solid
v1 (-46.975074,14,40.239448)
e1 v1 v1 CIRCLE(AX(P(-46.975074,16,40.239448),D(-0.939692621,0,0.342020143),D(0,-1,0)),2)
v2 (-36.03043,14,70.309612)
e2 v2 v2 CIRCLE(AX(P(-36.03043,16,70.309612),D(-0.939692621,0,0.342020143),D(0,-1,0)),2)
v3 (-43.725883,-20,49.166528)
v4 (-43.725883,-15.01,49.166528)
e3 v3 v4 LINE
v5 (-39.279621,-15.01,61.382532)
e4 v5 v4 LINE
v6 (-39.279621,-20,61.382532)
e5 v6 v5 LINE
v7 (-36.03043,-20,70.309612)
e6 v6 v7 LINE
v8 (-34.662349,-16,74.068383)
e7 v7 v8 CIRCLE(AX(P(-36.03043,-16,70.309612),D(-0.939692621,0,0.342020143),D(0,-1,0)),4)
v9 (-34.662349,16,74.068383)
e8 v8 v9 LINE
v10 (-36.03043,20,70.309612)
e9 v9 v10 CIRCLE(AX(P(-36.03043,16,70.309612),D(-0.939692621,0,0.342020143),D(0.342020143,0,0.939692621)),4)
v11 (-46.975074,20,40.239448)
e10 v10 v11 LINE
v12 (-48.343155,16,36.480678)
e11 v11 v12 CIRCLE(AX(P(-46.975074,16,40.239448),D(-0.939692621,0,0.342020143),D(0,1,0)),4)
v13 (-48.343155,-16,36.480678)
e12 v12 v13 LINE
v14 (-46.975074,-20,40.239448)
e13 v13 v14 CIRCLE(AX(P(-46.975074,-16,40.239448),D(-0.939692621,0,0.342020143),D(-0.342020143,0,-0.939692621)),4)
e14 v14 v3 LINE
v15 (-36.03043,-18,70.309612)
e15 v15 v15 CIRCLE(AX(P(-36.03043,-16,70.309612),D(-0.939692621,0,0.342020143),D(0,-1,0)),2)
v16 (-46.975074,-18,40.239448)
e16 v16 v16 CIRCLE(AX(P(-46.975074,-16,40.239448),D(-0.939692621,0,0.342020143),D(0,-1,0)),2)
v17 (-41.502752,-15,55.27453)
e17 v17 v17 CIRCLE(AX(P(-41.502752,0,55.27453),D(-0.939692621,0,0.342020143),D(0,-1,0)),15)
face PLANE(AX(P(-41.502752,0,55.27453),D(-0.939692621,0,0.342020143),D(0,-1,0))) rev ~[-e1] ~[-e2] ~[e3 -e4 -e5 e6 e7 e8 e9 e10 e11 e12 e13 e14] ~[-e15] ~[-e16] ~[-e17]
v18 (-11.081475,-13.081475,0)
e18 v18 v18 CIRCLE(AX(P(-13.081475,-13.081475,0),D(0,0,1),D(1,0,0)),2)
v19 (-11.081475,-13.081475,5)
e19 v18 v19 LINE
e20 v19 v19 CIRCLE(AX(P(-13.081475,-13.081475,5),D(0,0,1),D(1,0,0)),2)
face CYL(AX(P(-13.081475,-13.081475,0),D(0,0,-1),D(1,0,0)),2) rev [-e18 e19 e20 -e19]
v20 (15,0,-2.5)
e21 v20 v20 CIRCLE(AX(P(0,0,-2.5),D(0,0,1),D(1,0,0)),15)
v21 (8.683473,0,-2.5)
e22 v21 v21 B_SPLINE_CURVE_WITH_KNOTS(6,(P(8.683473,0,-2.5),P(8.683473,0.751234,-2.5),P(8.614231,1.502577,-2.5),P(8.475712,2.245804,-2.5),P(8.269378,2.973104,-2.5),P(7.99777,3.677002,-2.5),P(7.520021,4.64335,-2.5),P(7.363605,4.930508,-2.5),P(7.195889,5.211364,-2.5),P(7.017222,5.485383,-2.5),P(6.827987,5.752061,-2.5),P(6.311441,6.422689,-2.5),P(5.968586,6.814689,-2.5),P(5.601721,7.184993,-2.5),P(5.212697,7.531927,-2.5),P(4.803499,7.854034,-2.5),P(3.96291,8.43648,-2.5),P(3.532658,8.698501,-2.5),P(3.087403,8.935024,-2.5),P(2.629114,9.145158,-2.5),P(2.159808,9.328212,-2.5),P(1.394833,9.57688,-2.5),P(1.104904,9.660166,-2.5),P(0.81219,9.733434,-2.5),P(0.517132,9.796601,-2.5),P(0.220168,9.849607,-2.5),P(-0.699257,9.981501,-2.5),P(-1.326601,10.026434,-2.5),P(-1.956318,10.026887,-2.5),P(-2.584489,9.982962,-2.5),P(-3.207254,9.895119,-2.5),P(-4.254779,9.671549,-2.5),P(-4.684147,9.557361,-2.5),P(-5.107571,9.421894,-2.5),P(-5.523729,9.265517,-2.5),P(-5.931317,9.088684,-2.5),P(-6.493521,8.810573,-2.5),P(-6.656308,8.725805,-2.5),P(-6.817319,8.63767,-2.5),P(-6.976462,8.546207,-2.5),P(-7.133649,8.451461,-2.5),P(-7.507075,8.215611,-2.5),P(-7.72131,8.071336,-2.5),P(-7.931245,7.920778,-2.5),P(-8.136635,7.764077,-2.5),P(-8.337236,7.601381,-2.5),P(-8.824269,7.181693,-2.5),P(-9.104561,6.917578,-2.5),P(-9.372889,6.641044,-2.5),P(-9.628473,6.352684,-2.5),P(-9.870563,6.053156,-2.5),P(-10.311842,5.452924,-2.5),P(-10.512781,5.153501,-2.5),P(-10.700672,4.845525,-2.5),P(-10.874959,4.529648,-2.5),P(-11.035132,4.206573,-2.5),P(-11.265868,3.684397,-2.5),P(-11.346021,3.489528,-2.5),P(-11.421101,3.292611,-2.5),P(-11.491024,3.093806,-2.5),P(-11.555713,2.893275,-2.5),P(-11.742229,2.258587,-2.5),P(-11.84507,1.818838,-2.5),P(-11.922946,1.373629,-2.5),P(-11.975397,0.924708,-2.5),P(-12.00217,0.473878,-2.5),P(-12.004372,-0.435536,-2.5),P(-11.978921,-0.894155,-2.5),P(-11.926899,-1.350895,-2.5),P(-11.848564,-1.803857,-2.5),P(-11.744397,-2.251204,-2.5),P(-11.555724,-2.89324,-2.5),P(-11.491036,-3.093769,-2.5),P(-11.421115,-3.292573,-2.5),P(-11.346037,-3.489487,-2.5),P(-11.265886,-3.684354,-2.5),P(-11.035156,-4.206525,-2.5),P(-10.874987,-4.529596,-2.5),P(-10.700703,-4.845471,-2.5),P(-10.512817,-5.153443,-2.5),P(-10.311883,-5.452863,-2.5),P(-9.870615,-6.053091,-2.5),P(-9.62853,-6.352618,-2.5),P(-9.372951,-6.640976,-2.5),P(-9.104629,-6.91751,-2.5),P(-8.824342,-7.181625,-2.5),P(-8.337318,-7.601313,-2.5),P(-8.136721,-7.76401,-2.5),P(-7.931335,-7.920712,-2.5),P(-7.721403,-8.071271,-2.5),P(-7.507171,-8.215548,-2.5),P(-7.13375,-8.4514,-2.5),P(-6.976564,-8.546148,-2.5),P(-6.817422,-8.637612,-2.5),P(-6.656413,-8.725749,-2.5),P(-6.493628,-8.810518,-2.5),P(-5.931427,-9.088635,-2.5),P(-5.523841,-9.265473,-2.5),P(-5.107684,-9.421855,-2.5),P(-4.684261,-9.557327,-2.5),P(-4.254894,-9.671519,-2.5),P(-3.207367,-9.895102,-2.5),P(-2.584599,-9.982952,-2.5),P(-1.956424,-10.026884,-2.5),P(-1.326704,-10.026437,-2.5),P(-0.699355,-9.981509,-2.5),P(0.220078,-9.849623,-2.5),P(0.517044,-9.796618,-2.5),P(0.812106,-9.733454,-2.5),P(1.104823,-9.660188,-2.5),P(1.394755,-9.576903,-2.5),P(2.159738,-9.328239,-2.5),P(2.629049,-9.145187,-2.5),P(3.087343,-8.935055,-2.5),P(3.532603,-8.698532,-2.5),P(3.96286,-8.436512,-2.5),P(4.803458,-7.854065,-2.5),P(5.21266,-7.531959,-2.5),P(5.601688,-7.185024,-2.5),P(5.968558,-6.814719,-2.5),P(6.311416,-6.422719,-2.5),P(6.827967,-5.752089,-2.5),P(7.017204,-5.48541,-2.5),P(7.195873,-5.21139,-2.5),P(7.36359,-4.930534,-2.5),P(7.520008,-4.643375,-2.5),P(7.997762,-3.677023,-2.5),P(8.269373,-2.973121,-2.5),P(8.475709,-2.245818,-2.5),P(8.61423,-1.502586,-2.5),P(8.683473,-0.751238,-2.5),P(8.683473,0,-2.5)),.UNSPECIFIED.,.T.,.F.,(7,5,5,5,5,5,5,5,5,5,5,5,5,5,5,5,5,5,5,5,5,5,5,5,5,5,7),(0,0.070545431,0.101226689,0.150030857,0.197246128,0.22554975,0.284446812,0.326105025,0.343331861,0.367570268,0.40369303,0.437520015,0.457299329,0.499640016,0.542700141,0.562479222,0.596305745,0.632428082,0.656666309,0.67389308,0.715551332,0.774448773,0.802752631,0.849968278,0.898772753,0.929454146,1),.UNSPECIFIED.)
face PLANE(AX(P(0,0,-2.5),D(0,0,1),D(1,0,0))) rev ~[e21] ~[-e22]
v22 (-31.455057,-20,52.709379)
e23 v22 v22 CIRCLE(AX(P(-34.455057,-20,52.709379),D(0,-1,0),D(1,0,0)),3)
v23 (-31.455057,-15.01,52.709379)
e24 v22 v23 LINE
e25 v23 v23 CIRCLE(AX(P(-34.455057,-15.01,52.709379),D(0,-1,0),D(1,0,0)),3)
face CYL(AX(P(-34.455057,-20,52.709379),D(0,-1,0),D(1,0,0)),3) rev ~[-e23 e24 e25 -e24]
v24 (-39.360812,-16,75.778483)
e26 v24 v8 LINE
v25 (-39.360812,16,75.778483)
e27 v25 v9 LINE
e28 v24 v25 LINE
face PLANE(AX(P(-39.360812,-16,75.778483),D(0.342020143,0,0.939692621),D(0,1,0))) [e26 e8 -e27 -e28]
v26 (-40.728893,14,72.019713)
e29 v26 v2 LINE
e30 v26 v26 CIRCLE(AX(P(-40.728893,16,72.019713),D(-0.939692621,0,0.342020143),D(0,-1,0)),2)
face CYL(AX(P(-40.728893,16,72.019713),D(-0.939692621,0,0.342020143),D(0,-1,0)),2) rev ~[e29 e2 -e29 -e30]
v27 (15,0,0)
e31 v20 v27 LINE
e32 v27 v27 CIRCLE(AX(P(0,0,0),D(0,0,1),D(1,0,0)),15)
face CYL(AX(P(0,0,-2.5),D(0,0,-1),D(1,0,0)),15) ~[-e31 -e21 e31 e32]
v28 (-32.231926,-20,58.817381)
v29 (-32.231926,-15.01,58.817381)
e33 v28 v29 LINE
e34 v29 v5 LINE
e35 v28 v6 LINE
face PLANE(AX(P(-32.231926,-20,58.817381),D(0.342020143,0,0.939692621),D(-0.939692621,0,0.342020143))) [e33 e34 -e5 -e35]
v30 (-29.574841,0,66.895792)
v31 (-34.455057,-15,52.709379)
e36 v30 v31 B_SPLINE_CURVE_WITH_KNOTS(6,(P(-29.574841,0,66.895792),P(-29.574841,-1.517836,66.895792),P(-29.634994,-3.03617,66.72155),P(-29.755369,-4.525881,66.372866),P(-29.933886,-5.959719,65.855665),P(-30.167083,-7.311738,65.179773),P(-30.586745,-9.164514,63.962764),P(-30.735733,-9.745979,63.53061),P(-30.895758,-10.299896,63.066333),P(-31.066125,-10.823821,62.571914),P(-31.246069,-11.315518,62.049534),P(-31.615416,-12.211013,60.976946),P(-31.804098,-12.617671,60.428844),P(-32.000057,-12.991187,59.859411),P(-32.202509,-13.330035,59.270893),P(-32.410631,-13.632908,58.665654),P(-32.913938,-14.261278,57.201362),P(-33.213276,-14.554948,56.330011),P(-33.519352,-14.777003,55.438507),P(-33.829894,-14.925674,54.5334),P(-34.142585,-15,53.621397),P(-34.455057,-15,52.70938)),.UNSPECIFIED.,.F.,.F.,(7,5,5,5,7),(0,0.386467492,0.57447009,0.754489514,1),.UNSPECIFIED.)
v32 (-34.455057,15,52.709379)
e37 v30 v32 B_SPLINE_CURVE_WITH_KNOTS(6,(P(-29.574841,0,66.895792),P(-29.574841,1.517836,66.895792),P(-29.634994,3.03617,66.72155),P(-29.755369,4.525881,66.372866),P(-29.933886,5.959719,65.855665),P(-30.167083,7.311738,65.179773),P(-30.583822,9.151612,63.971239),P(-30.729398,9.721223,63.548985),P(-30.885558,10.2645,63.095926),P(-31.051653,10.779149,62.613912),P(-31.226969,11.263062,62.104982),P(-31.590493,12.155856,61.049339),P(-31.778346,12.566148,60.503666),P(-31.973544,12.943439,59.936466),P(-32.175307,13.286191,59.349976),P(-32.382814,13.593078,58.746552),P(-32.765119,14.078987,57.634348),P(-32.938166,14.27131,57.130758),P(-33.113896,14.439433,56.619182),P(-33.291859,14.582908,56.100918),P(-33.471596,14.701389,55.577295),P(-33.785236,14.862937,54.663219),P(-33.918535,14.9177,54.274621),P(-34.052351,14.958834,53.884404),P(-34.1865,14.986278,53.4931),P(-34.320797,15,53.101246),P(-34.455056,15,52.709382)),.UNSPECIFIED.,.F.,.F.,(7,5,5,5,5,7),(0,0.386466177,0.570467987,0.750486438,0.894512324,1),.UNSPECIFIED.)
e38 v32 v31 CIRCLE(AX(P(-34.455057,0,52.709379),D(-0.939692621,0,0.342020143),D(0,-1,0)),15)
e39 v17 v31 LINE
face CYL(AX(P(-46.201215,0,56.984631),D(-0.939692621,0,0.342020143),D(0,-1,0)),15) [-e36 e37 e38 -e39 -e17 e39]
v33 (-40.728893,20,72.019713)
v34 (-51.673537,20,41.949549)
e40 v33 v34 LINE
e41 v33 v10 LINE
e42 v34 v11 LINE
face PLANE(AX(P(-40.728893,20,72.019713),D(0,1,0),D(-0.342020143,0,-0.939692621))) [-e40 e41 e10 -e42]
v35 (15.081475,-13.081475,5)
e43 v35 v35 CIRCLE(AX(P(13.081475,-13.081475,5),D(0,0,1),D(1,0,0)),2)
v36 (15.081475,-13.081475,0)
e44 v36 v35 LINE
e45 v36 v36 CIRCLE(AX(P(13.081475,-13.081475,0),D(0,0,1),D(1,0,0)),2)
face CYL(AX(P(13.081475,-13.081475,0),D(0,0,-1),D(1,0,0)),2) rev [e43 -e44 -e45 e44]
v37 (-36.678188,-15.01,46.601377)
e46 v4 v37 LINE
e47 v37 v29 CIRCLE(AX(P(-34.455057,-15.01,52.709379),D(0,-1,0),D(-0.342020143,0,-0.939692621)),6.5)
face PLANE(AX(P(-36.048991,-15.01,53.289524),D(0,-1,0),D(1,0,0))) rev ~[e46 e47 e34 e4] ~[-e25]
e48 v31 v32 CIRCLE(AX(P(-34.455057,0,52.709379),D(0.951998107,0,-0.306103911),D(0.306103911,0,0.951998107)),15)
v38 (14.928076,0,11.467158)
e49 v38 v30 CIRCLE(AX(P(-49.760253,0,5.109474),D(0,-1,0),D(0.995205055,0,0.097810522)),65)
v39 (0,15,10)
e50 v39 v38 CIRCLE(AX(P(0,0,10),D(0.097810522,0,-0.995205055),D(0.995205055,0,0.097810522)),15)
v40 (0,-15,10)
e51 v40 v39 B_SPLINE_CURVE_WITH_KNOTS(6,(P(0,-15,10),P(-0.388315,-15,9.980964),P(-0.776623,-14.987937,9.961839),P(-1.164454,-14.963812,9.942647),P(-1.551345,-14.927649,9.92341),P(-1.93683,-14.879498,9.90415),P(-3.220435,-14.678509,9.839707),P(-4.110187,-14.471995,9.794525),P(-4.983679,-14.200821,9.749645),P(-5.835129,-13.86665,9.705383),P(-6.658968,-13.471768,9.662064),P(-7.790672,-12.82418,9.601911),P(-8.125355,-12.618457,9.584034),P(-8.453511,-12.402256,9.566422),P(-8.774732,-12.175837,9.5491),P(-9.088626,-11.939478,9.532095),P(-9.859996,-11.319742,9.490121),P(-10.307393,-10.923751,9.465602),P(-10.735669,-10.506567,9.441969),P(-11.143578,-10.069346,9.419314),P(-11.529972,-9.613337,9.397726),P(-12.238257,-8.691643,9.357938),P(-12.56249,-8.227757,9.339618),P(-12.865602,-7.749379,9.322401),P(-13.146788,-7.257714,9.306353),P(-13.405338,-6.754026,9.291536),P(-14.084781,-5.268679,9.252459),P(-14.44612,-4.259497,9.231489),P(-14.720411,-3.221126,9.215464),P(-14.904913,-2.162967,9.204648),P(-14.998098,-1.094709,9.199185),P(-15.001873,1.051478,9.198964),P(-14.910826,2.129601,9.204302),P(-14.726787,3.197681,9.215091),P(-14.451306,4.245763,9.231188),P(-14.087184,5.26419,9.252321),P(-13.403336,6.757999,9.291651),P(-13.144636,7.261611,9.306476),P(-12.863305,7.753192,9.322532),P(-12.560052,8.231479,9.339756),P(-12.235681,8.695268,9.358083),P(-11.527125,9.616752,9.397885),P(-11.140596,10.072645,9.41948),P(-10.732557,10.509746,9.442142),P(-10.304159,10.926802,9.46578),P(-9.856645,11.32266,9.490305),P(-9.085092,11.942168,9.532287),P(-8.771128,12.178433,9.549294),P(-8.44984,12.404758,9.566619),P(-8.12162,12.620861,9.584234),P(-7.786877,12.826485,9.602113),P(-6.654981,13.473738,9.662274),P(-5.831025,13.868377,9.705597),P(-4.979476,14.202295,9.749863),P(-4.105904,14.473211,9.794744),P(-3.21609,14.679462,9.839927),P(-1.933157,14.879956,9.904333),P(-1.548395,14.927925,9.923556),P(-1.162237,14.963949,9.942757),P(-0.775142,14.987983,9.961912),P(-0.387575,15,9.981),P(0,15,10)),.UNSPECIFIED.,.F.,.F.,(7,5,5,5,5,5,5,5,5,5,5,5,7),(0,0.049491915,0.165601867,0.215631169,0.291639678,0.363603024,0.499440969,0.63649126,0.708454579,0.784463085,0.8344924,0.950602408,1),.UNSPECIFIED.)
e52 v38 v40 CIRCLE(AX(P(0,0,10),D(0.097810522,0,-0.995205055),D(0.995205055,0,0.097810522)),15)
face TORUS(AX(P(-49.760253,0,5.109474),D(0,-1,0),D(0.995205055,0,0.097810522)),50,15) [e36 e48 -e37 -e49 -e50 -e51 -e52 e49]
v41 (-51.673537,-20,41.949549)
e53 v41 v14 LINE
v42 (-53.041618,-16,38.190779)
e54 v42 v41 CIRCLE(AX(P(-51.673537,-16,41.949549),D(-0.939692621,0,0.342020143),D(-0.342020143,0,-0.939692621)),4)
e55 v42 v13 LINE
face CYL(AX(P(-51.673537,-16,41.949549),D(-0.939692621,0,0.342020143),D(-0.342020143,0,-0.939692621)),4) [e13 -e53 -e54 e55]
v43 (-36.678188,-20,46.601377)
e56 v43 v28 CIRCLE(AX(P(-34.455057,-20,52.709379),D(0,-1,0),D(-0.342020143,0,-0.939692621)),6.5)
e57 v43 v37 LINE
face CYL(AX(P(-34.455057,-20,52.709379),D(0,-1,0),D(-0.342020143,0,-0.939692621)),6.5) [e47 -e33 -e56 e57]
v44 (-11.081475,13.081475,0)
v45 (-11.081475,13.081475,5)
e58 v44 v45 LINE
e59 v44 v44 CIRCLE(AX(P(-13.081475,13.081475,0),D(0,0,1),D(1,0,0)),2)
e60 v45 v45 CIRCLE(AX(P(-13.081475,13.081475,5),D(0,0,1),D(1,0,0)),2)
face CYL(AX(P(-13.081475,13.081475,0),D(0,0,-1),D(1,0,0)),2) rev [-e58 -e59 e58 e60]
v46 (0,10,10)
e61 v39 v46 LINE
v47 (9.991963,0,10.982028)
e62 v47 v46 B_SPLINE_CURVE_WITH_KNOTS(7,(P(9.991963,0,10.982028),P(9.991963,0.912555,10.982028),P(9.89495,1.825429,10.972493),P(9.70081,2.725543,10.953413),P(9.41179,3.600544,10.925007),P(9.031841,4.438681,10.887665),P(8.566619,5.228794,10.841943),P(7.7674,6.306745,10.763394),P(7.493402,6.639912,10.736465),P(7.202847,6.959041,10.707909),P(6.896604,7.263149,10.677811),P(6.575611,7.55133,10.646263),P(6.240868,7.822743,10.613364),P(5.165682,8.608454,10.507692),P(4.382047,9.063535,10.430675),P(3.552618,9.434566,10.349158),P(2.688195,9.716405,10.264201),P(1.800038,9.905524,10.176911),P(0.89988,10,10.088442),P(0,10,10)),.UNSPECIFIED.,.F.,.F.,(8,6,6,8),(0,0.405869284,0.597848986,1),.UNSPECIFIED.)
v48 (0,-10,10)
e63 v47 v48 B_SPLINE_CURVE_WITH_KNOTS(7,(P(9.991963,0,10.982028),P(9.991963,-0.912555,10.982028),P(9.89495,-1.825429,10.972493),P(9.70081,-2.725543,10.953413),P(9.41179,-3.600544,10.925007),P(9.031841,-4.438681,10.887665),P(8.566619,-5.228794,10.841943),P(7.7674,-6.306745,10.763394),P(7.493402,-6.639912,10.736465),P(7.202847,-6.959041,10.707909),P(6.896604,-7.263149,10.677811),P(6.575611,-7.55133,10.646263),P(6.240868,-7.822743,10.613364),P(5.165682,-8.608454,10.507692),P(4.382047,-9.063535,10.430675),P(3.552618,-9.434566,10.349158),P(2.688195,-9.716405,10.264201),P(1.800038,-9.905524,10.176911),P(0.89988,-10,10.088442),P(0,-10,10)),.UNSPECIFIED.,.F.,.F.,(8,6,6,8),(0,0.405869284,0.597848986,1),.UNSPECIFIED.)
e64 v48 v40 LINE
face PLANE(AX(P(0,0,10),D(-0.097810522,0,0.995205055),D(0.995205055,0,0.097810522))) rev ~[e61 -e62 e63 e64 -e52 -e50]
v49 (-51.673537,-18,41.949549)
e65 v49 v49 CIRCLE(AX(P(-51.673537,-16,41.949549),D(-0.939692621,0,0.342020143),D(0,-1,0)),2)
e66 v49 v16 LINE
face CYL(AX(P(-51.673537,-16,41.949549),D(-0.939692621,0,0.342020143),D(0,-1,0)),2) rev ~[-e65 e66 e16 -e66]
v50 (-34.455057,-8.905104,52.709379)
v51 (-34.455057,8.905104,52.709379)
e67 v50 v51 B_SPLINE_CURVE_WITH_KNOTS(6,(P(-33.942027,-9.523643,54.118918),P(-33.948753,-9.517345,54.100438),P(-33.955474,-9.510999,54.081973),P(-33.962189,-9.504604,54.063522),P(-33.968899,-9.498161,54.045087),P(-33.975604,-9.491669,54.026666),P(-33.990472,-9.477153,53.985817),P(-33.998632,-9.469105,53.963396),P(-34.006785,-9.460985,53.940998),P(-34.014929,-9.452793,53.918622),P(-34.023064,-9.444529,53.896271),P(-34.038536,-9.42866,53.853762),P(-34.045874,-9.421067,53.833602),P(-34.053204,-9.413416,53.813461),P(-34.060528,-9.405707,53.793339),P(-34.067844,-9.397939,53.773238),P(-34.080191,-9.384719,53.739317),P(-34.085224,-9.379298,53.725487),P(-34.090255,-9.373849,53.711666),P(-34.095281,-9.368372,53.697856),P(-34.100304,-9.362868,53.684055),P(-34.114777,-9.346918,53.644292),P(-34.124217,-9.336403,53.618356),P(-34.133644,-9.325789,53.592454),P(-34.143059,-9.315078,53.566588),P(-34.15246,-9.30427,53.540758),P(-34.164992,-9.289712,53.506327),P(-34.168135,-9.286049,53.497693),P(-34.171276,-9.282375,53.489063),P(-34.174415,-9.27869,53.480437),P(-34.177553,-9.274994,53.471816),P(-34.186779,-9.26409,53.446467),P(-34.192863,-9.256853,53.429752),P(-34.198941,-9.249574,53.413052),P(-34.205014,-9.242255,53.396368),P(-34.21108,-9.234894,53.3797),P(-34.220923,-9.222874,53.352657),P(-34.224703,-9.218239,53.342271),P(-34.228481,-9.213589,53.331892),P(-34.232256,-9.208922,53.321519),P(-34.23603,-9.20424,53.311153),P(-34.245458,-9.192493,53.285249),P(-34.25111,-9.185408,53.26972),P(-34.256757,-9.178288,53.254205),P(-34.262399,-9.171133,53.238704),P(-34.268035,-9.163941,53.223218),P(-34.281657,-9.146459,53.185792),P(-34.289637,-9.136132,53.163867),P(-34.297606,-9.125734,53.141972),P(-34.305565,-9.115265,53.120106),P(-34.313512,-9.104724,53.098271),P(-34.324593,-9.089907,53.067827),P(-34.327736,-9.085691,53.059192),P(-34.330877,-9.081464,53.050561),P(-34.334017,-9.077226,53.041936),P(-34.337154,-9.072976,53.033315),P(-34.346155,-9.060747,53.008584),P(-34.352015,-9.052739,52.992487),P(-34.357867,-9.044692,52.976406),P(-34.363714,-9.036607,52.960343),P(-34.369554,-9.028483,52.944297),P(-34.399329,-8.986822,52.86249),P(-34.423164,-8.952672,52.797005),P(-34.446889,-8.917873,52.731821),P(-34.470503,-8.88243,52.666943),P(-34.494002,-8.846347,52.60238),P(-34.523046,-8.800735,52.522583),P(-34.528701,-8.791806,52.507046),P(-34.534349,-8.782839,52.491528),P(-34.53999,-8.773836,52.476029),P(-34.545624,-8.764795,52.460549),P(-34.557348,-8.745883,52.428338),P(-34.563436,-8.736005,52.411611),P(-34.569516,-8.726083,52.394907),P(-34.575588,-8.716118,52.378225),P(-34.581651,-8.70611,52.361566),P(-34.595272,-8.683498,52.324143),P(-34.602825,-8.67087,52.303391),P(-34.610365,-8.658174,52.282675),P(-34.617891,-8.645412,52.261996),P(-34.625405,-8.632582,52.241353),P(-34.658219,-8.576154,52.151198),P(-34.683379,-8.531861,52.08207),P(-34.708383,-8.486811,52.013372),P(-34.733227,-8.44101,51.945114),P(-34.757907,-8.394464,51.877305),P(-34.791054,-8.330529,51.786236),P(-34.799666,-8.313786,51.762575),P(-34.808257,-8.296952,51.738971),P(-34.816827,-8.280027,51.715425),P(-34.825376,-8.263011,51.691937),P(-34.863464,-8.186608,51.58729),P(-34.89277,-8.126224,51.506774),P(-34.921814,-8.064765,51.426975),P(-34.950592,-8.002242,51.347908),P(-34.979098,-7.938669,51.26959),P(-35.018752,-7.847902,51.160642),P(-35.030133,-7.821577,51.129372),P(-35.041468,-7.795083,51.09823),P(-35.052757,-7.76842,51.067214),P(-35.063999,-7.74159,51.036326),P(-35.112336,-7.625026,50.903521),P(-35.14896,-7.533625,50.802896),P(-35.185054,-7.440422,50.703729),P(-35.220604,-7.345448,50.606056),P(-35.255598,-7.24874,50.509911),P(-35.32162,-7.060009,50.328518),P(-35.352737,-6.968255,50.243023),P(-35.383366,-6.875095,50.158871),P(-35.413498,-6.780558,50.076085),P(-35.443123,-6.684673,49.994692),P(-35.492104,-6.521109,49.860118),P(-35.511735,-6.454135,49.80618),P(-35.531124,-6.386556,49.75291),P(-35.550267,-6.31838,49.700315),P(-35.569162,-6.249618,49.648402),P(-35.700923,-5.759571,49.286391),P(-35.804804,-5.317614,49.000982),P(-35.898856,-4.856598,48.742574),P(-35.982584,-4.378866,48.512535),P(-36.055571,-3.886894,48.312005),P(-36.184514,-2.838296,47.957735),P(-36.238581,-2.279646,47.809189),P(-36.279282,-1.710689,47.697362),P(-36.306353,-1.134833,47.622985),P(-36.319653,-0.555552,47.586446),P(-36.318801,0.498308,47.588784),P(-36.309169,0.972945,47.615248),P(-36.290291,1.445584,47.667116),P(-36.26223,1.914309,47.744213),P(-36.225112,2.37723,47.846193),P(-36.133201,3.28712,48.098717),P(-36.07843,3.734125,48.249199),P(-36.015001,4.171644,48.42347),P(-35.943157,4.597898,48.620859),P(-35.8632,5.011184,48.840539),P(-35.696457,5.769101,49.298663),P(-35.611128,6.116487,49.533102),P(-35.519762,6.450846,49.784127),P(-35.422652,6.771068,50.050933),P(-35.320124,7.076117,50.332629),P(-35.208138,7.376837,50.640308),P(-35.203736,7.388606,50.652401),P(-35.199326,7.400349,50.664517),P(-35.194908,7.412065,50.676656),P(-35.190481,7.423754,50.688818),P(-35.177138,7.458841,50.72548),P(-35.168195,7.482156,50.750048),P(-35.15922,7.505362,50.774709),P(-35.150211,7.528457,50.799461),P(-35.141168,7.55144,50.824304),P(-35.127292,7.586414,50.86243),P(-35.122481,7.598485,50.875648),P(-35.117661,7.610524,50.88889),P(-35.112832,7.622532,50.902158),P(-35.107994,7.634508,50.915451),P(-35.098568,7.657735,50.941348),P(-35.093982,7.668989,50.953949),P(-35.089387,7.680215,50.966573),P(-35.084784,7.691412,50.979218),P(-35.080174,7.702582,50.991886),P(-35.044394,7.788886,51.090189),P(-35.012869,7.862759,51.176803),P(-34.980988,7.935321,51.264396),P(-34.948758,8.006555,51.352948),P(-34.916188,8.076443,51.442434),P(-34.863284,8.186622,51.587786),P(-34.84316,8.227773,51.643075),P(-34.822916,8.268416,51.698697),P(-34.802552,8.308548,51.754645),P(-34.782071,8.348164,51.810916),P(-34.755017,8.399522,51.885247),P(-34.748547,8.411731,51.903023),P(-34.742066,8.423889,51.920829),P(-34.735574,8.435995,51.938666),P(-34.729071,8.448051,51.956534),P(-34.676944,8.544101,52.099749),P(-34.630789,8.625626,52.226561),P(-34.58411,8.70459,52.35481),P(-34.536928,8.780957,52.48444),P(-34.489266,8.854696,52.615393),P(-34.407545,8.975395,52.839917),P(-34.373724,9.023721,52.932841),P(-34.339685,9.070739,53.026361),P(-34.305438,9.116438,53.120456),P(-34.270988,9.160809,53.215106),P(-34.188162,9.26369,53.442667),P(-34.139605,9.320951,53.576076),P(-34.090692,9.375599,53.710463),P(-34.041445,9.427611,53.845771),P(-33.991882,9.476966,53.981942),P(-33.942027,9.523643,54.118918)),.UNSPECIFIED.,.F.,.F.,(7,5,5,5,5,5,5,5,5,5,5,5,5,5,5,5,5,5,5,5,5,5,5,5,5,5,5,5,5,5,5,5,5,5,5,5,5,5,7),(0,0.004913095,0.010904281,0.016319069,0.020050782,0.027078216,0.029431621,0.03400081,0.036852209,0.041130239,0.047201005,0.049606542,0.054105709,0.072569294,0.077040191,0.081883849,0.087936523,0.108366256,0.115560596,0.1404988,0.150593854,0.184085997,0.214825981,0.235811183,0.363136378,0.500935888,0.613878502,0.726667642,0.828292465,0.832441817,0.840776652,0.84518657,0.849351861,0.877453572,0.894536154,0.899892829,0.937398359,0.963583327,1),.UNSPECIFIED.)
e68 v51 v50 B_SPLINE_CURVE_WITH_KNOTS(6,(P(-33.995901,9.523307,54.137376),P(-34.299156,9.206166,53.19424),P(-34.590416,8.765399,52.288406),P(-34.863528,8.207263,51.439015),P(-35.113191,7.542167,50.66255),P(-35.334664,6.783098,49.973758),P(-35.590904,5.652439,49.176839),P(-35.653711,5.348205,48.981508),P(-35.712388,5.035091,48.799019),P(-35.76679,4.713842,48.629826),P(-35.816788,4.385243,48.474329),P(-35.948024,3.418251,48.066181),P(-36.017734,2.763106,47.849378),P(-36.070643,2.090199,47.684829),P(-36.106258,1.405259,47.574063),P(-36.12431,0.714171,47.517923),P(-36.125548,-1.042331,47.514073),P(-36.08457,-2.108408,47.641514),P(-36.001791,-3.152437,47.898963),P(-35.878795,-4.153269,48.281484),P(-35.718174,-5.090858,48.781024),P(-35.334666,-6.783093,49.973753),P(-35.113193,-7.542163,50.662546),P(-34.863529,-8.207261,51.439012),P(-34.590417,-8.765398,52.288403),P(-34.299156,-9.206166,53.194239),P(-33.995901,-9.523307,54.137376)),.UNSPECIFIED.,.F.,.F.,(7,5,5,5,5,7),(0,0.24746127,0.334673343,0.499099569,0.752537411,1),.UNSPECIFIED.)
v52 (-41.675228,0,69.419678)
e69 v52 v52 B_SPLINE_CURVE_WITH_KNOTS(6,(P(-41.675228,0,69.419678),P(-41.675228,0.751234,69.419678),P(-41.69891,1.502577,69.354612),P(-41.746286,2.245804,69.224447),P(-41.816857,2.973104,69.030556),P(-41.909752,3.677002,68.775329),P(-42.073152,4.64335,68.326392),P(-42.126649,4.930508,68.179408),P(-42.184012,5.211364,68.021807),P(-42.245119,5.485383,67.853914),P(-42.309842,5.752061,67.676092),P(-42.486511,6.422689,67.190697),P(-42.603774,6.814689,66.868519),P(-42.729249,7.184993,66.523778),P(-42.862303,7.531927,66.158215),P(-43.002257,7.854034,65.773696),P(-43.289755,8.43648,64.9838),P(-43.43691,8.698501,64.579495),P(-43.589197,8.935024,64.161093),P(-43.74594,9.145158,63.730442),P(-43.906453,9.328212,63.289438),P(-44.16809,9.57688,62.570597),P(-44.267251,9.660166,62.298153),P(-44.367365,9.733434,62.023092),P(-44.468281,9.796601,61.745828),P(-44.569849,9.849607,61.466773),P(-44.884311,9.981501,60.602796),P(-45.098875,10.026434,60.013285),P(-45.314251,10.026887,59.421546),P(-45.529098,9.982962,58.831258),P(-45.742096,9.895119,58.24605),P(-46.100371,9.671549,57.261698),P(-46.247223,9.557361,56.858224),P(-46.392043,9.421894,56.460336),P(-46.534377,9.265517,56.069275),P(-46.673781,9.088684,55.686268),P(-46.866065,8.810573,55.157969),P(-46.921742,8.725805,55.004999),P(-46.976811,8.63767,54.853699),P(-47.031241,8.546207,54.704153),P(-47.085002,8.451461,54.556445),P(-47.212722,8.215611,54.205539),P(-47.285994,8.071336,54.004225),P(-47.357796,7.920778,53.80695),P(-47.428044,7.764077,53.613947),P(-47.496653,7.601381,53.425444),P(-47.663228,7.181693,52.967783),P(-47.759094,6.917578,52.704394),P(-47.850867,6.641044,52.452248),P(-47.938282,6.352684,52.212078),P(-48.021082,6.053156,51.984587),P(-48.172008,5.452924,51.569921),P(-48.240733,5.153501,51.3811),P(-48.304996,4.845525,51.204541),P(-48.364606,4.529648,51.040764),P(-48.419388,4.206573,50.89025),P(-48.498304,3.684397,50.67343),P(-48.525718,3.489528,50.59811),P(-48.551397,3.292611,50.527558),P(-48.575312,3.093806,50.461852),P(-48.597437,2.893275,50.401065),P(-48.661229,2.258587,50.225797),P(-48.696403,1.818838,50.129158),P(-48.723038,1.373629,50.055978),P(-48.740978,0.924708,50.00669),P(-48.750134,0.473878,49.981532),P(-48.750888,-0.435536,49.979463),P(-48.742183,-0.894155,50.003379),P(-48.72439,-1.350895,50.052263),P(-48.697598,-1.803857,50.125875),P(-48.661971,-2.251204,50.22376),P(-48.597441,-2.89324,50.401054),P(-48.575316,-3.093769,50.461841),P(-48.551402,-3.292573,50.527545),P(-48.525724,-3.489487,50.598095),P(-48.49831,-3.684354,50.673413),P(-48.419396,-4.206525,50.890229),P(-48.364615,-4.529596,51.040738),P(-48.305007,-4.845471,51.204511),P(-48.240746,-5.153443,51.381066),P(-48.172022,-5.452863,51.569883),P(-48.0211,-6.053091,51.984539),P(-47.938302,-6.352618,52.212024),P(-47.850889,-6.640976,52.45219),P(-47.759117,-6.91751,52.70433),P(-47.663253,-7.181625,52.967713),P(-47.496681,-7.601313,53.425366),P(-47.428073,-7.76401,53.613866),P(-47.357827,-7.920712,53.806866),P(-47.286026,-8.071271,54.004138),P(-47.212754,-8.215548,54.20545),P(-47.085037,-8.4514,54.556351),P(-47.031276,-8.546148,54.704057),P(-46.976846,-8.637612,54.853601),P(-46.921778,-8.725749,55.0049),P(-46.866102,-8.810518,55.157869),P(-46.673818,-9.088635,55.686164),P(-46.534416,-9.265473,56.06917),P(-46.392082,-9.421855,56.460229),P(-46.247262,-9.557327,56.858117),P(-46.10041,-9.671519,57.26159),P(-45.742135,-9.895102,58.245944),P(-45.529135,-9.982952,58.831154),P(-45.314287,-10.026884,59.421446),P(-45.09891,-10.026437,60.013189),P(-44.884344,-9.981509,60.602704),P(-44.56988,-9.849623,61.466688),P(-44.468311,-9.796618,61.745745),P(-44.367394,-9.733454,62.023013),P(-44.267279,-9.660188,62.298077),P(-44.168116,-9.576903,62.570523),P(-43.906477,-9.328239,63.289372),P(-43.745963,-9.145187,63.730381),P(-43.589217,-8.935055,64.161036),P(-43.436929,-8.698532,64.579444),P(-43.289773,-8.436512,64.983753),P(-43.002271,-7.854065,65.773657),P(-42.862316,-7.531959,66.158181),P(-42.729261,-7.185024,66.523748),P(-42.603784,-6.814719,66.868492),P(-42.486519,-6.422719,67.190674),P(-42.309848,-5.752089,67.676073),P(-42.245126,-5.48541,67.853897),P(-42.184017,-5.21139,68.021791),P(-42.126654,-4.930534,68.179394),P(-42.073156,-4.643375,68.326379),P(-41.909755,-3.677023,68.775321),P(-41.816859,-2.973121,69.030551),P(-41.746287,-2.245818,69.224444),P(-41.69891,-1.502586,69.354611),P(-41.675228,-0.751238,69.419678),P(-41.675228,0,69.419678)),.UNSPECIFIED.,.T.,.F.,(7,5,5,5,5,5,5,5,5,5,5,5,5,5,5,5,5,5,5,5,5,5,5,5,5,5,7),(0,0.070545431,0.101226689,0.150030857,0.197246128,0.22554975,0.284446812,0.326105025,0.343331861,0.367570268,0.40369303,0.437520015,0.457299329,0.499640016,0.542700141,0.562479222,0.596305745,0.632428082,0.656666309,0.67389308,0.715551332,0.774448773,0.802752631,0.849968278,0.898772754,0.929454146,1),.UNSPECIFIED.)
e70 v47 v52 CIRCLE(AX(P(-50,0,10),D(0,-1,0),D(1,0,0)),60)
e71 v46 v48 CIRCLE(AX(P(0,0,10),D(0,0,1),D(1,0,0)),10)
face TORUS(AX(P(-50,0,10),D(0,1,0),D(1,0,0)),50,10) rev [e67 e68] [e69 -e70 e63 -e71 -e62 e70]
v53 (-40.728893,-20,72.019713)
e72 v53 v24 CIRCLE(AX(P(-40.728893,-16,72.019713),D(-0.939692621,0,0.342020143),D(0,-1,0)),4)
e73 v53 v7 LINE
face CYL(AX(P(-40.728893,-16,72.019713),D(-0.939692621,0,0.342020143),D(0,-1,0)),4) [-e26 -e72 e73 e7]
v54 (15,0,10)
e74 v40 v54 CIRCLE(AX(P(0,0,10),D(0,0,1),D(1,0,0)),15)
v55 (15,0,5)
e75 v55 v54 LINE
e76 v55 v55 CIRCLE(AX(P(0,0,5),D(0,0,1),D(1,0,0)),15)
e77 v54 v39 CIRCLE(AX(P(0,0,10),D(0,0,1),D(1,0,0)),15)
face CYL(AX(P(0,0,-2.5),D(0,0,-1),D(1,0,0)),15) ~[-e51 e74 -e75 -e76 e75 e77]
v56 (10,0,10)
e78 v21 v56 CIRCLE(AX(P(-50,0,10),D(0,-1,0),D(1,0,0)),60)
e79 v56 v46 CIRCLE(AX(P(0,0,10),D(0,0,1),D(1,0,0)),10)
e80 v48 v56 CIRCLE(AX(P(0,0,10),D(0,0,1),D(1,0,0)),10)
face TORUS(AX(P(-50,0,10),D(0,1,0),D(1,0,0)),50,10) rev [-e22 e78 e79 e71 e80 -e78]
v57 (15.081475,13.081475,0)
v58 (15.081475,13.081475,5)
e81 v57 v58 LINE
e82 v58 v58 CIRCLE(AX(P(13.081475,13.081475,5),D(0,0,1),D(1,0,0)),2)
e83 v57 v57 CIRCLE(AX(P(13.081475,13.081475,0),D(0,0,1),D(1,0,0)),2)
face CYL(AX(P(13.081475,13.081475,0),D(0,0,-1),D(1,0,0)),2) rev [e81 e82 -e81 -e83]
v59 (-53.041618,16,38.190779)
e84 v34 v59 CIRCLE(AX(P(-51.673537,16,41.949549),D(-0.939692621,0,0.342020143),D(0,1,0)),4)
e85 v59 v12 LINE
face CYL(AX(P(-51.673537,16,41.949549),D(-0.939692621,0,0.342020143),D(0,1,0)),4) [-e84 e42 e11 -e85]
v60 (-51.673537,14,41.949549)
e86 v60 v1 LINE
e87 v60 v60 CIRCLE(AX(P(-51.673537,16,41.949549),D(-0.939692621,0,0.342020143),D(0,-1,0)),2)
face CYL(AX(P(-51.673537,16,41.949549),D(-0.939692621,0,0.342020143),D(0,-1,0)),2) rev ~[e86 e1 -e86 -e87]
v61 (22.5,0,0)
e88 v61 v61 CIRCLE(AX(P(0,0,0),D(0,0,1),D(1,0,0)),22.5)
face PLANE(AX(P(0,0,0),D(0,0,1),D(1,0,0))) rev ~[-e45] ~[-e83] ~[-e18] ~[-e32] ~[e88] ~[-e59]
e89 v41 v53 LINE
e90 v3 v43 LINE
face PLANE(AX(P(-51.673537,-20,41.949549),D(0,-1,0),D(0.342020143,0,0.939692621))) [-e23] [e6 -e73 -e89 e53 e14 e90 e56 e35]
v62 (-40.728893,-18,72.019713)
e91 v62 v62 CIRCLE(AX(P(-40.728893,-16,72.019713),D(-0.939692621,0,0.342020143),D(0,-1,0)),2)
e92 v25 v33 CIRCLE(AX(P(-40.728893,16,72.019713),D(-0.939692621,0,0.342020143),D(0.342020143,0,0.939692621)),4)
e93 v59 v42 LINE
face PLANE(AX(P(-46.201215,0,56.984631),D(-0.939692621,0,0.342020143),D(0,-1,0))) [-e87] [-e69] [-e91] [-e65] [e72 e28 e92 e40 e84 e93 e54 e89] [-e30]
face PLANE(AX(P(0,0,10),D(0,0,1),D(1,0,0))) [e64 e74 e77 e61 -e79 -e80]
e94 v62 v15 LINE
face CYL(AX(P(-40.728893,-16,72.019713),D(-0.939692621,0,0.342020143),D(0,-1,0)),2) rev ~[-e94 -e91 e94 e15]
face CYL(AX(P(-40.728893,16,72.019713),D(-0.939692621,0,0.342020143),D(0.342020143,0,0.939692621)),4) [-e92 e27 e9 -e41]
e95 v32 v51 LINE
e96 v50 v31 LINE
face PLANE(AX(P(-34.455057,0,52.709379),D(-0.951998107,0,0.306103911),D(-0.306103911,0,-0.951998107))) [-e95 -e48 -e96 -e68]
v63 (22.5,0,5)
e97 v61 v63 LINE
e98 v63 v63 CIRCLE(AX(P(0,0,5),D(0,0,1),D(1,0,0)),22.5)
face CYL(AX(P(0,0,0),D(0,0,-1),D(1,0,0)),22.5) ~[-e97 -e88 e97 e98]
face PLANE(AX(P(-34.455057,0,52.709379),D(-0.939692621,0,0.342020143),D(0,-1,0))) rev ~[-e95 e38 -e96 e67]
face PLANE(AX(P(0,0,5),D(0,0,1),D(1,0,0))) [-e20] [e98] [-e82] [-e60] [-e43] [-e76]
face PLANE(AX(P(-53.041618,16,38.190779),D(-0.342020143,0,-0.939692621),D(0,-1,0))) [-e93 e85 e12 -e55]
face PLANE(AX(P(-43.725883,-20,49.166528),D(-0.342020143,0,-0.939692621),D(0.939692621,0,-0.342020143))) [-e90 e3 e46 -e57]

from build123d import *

# Parameters (mm, degrees)
SKETCH1_R                = 22.5
SKETCH1_R_2              = 15
SKETCH1_R_3              = 2
BOSS_EXTRUDE1_DEPTH      = 5
BOSS_EXTRUDE2_DEPTH      = 10
BOSS_EXTRUDE2_DEPTH_BACK = 2.5
SKETCH1_2_R              = 15
SKETCH4_R                = 2
SKETCH4_R_2              = 15
BOSS_EXTRUDE3_DEPTH      = 5
SKETCH4_3_R              = 15
BOSS_EXTRUDE4_DEPTH      = 12.5
SWEEP3_PROFILE_R         = 15
SKETCH22_R               = 3
BOSS_EXTRUDE5_DEPTH      = 4.99
SKETCH24_R               = 10


with BuildPart() as part:
    # Sketch1 → Boss-Extrude1 (new body)
    with BuildSketch(Plane.XY):
        Circle(SKETCH1_R)
        Circle(SKETCH1_R_2, mode=Mode.SUBTRACT)
        with Locations((13.081475452, 13.081475452)):
            Circle(SKETCH1_R_3, mode=Mode.SUBTRACT)
        with Locations((-13.081475452, 13.081475452)):
            Circle(SKETCH1_R_3, mode=Mode.SUBTRACT)
        with Locations((-13.081475452, -13.081475452)):
            Circle(SKETCH1_R_3, mode=Mode.SUBTRACT)
        with Locations((13.081475452, -13.081475452)):
            Circle(SKETCH1_R_3, mode=Mode.SUBTRACT)
    extrude(amount=BOSS_EXTRUDE1_DEPTH)

    # Sketch1<2> → Boss-Extrude2 (add, two sides: drawn at the far end of the back side and taken through both)
    with BuildSketch(Plane.XY.offset(-BOSS_EXTRUDE2_DEPTH_BACK)):
        Circle(SKETCH1_2_R)
    extrude(amount=BOSS_EXTRUDE2_DEPTH + BOSS_EXTRUDE2_DEPTH_BACK)



with BuildPart() as body_2:
    # Sketch4 → Boss-Extrude3 (new body)
    with BuildSketch(Plane(origin=(-59.111206886, 0, 21.514719818), x_dir=(0, -1, 0), z_dir=(-0.9396926207859094, 0, 0.34202014332566616))):
        with BuildLine():
            ThreePointArc((-20, 21.746291113), (-18.828427125, 18.917863989), (-16, 17.746291113))
            Line((-16, 17.746291113), (16, 17.746291113))
            ThreePointArc((16, 17.746291113), (18.828427125, 18.917863989), (20, 21.746291113))
            Line((20, 21.746291113), (20, 53.746291113))
            ThreePointArc((20, 53.746291113), (18.828427125, 56.574718238), (16, 57.746291113))
            Line((16, 57.746291113), (-16, 57.746291113))
            ThreePointArc((-16, 57.746291113), (-18.828427125, 56.574718238), (-20, 53.746291113))
            Line((-20, 53.746291113), (-20, 21.746291113))
        make_face()
        with Locations((-16, 21.746291113)):
            Circle(SKETCH4_R, mode=Mode.SUBTRACT)
        with Locations((16, 21.746291113)):
            Circle(SKETCH4_R, mode=Mode.SUBTRACT)
        with Locations((-16, 53.746291113)):
            Circle(SKETCH4_R, mode=Mode.SUBTRACT)
        with Locations((0, 37.746291113)):
            Circle(SKETCH4_R_2, mode=Mode.SUBTRACT)
        with Locations((16, 53.746291113)):
            Circle(SKETCH4_R, mode=Mode.SUBTRACT)
    extrude(amount=-BOSS_EXTRUDE3_DEPTH)

    # Sketch4<3> → Boss-Extrude4 (add)
    with BuildSketch(Plane(origin=(-59.111206886, 0, 21.514719818), x_dir=(0, -1, 0), z_dir=(-0.9396926207859094, 0, 0.34202014332566616))):
        with Locations((0, 37.746291113)):
            Circle(SKETCH4_3_R)
    extrude(amount=-BOSS_EXTRUDE4_DEPTH)


with BuildPart() as part_1:
    add(part.part)

    add(body_2.part)  # Sweep3 merges body 2
    # Sweep3: sweep along a curve in space
    with BuildLine() as sweep3_path:
        ThreePointArc((0, 0, 10), (-10.844948453, 0, 36.503726407), (-34.45505723, 0, 52.709379248))
    # Sweep3 profile (on start of the path) → Sweep3 (sweep)
    with BuildSketch(Plane(origin=(0, 0, 10), x_dir=(0.9952050551288538, 0, 0.09781052216390201), z_dir=(-0.09781052216390201, 0, 0.9952050551288538))):
        Circle(SWEEP3_PROFILE_R)
    sweep(path=sweep3_path.line)

    # Sketch22 → Boss-Extrude5 (add)
    with BuildSketch(Plane.XZ.offset(20)):
        with BuildLine():
            Line((-32.231926298, 58.817381283), (-39.279620954, 61.382532358))
            Line((-39.279620954, 61.382532358), (-43.725882817, 49.166528288))
            Line((-43.725882817, 49.166528288), (-36.678188161, 46.601377213))
            ThreePointArc((-36.678188161, 46.601377213), (-28.347055195, 50.486248316), (-32.231926298, 58.817381283))
        make_face()
        with Locations((-34.45505723, 52.709379248)):
            Circle(SKETCH22_R, mode=Mode.SUBTRACT)
    extrude(amount=-BOSS_EXTRUDE5_DEPTH)

    # Sketch24 → Cut-Revolve1 (revolve, cut)
    with BuildSketch(Plane.XY.offset(10)):
        Circle(SKETCH24_R)
    revolve(axis=Axis((-50, 66.423618384, 10), (0, -1, 0)), mode=Mode.SUBTRACT)


solid = part_1.part
